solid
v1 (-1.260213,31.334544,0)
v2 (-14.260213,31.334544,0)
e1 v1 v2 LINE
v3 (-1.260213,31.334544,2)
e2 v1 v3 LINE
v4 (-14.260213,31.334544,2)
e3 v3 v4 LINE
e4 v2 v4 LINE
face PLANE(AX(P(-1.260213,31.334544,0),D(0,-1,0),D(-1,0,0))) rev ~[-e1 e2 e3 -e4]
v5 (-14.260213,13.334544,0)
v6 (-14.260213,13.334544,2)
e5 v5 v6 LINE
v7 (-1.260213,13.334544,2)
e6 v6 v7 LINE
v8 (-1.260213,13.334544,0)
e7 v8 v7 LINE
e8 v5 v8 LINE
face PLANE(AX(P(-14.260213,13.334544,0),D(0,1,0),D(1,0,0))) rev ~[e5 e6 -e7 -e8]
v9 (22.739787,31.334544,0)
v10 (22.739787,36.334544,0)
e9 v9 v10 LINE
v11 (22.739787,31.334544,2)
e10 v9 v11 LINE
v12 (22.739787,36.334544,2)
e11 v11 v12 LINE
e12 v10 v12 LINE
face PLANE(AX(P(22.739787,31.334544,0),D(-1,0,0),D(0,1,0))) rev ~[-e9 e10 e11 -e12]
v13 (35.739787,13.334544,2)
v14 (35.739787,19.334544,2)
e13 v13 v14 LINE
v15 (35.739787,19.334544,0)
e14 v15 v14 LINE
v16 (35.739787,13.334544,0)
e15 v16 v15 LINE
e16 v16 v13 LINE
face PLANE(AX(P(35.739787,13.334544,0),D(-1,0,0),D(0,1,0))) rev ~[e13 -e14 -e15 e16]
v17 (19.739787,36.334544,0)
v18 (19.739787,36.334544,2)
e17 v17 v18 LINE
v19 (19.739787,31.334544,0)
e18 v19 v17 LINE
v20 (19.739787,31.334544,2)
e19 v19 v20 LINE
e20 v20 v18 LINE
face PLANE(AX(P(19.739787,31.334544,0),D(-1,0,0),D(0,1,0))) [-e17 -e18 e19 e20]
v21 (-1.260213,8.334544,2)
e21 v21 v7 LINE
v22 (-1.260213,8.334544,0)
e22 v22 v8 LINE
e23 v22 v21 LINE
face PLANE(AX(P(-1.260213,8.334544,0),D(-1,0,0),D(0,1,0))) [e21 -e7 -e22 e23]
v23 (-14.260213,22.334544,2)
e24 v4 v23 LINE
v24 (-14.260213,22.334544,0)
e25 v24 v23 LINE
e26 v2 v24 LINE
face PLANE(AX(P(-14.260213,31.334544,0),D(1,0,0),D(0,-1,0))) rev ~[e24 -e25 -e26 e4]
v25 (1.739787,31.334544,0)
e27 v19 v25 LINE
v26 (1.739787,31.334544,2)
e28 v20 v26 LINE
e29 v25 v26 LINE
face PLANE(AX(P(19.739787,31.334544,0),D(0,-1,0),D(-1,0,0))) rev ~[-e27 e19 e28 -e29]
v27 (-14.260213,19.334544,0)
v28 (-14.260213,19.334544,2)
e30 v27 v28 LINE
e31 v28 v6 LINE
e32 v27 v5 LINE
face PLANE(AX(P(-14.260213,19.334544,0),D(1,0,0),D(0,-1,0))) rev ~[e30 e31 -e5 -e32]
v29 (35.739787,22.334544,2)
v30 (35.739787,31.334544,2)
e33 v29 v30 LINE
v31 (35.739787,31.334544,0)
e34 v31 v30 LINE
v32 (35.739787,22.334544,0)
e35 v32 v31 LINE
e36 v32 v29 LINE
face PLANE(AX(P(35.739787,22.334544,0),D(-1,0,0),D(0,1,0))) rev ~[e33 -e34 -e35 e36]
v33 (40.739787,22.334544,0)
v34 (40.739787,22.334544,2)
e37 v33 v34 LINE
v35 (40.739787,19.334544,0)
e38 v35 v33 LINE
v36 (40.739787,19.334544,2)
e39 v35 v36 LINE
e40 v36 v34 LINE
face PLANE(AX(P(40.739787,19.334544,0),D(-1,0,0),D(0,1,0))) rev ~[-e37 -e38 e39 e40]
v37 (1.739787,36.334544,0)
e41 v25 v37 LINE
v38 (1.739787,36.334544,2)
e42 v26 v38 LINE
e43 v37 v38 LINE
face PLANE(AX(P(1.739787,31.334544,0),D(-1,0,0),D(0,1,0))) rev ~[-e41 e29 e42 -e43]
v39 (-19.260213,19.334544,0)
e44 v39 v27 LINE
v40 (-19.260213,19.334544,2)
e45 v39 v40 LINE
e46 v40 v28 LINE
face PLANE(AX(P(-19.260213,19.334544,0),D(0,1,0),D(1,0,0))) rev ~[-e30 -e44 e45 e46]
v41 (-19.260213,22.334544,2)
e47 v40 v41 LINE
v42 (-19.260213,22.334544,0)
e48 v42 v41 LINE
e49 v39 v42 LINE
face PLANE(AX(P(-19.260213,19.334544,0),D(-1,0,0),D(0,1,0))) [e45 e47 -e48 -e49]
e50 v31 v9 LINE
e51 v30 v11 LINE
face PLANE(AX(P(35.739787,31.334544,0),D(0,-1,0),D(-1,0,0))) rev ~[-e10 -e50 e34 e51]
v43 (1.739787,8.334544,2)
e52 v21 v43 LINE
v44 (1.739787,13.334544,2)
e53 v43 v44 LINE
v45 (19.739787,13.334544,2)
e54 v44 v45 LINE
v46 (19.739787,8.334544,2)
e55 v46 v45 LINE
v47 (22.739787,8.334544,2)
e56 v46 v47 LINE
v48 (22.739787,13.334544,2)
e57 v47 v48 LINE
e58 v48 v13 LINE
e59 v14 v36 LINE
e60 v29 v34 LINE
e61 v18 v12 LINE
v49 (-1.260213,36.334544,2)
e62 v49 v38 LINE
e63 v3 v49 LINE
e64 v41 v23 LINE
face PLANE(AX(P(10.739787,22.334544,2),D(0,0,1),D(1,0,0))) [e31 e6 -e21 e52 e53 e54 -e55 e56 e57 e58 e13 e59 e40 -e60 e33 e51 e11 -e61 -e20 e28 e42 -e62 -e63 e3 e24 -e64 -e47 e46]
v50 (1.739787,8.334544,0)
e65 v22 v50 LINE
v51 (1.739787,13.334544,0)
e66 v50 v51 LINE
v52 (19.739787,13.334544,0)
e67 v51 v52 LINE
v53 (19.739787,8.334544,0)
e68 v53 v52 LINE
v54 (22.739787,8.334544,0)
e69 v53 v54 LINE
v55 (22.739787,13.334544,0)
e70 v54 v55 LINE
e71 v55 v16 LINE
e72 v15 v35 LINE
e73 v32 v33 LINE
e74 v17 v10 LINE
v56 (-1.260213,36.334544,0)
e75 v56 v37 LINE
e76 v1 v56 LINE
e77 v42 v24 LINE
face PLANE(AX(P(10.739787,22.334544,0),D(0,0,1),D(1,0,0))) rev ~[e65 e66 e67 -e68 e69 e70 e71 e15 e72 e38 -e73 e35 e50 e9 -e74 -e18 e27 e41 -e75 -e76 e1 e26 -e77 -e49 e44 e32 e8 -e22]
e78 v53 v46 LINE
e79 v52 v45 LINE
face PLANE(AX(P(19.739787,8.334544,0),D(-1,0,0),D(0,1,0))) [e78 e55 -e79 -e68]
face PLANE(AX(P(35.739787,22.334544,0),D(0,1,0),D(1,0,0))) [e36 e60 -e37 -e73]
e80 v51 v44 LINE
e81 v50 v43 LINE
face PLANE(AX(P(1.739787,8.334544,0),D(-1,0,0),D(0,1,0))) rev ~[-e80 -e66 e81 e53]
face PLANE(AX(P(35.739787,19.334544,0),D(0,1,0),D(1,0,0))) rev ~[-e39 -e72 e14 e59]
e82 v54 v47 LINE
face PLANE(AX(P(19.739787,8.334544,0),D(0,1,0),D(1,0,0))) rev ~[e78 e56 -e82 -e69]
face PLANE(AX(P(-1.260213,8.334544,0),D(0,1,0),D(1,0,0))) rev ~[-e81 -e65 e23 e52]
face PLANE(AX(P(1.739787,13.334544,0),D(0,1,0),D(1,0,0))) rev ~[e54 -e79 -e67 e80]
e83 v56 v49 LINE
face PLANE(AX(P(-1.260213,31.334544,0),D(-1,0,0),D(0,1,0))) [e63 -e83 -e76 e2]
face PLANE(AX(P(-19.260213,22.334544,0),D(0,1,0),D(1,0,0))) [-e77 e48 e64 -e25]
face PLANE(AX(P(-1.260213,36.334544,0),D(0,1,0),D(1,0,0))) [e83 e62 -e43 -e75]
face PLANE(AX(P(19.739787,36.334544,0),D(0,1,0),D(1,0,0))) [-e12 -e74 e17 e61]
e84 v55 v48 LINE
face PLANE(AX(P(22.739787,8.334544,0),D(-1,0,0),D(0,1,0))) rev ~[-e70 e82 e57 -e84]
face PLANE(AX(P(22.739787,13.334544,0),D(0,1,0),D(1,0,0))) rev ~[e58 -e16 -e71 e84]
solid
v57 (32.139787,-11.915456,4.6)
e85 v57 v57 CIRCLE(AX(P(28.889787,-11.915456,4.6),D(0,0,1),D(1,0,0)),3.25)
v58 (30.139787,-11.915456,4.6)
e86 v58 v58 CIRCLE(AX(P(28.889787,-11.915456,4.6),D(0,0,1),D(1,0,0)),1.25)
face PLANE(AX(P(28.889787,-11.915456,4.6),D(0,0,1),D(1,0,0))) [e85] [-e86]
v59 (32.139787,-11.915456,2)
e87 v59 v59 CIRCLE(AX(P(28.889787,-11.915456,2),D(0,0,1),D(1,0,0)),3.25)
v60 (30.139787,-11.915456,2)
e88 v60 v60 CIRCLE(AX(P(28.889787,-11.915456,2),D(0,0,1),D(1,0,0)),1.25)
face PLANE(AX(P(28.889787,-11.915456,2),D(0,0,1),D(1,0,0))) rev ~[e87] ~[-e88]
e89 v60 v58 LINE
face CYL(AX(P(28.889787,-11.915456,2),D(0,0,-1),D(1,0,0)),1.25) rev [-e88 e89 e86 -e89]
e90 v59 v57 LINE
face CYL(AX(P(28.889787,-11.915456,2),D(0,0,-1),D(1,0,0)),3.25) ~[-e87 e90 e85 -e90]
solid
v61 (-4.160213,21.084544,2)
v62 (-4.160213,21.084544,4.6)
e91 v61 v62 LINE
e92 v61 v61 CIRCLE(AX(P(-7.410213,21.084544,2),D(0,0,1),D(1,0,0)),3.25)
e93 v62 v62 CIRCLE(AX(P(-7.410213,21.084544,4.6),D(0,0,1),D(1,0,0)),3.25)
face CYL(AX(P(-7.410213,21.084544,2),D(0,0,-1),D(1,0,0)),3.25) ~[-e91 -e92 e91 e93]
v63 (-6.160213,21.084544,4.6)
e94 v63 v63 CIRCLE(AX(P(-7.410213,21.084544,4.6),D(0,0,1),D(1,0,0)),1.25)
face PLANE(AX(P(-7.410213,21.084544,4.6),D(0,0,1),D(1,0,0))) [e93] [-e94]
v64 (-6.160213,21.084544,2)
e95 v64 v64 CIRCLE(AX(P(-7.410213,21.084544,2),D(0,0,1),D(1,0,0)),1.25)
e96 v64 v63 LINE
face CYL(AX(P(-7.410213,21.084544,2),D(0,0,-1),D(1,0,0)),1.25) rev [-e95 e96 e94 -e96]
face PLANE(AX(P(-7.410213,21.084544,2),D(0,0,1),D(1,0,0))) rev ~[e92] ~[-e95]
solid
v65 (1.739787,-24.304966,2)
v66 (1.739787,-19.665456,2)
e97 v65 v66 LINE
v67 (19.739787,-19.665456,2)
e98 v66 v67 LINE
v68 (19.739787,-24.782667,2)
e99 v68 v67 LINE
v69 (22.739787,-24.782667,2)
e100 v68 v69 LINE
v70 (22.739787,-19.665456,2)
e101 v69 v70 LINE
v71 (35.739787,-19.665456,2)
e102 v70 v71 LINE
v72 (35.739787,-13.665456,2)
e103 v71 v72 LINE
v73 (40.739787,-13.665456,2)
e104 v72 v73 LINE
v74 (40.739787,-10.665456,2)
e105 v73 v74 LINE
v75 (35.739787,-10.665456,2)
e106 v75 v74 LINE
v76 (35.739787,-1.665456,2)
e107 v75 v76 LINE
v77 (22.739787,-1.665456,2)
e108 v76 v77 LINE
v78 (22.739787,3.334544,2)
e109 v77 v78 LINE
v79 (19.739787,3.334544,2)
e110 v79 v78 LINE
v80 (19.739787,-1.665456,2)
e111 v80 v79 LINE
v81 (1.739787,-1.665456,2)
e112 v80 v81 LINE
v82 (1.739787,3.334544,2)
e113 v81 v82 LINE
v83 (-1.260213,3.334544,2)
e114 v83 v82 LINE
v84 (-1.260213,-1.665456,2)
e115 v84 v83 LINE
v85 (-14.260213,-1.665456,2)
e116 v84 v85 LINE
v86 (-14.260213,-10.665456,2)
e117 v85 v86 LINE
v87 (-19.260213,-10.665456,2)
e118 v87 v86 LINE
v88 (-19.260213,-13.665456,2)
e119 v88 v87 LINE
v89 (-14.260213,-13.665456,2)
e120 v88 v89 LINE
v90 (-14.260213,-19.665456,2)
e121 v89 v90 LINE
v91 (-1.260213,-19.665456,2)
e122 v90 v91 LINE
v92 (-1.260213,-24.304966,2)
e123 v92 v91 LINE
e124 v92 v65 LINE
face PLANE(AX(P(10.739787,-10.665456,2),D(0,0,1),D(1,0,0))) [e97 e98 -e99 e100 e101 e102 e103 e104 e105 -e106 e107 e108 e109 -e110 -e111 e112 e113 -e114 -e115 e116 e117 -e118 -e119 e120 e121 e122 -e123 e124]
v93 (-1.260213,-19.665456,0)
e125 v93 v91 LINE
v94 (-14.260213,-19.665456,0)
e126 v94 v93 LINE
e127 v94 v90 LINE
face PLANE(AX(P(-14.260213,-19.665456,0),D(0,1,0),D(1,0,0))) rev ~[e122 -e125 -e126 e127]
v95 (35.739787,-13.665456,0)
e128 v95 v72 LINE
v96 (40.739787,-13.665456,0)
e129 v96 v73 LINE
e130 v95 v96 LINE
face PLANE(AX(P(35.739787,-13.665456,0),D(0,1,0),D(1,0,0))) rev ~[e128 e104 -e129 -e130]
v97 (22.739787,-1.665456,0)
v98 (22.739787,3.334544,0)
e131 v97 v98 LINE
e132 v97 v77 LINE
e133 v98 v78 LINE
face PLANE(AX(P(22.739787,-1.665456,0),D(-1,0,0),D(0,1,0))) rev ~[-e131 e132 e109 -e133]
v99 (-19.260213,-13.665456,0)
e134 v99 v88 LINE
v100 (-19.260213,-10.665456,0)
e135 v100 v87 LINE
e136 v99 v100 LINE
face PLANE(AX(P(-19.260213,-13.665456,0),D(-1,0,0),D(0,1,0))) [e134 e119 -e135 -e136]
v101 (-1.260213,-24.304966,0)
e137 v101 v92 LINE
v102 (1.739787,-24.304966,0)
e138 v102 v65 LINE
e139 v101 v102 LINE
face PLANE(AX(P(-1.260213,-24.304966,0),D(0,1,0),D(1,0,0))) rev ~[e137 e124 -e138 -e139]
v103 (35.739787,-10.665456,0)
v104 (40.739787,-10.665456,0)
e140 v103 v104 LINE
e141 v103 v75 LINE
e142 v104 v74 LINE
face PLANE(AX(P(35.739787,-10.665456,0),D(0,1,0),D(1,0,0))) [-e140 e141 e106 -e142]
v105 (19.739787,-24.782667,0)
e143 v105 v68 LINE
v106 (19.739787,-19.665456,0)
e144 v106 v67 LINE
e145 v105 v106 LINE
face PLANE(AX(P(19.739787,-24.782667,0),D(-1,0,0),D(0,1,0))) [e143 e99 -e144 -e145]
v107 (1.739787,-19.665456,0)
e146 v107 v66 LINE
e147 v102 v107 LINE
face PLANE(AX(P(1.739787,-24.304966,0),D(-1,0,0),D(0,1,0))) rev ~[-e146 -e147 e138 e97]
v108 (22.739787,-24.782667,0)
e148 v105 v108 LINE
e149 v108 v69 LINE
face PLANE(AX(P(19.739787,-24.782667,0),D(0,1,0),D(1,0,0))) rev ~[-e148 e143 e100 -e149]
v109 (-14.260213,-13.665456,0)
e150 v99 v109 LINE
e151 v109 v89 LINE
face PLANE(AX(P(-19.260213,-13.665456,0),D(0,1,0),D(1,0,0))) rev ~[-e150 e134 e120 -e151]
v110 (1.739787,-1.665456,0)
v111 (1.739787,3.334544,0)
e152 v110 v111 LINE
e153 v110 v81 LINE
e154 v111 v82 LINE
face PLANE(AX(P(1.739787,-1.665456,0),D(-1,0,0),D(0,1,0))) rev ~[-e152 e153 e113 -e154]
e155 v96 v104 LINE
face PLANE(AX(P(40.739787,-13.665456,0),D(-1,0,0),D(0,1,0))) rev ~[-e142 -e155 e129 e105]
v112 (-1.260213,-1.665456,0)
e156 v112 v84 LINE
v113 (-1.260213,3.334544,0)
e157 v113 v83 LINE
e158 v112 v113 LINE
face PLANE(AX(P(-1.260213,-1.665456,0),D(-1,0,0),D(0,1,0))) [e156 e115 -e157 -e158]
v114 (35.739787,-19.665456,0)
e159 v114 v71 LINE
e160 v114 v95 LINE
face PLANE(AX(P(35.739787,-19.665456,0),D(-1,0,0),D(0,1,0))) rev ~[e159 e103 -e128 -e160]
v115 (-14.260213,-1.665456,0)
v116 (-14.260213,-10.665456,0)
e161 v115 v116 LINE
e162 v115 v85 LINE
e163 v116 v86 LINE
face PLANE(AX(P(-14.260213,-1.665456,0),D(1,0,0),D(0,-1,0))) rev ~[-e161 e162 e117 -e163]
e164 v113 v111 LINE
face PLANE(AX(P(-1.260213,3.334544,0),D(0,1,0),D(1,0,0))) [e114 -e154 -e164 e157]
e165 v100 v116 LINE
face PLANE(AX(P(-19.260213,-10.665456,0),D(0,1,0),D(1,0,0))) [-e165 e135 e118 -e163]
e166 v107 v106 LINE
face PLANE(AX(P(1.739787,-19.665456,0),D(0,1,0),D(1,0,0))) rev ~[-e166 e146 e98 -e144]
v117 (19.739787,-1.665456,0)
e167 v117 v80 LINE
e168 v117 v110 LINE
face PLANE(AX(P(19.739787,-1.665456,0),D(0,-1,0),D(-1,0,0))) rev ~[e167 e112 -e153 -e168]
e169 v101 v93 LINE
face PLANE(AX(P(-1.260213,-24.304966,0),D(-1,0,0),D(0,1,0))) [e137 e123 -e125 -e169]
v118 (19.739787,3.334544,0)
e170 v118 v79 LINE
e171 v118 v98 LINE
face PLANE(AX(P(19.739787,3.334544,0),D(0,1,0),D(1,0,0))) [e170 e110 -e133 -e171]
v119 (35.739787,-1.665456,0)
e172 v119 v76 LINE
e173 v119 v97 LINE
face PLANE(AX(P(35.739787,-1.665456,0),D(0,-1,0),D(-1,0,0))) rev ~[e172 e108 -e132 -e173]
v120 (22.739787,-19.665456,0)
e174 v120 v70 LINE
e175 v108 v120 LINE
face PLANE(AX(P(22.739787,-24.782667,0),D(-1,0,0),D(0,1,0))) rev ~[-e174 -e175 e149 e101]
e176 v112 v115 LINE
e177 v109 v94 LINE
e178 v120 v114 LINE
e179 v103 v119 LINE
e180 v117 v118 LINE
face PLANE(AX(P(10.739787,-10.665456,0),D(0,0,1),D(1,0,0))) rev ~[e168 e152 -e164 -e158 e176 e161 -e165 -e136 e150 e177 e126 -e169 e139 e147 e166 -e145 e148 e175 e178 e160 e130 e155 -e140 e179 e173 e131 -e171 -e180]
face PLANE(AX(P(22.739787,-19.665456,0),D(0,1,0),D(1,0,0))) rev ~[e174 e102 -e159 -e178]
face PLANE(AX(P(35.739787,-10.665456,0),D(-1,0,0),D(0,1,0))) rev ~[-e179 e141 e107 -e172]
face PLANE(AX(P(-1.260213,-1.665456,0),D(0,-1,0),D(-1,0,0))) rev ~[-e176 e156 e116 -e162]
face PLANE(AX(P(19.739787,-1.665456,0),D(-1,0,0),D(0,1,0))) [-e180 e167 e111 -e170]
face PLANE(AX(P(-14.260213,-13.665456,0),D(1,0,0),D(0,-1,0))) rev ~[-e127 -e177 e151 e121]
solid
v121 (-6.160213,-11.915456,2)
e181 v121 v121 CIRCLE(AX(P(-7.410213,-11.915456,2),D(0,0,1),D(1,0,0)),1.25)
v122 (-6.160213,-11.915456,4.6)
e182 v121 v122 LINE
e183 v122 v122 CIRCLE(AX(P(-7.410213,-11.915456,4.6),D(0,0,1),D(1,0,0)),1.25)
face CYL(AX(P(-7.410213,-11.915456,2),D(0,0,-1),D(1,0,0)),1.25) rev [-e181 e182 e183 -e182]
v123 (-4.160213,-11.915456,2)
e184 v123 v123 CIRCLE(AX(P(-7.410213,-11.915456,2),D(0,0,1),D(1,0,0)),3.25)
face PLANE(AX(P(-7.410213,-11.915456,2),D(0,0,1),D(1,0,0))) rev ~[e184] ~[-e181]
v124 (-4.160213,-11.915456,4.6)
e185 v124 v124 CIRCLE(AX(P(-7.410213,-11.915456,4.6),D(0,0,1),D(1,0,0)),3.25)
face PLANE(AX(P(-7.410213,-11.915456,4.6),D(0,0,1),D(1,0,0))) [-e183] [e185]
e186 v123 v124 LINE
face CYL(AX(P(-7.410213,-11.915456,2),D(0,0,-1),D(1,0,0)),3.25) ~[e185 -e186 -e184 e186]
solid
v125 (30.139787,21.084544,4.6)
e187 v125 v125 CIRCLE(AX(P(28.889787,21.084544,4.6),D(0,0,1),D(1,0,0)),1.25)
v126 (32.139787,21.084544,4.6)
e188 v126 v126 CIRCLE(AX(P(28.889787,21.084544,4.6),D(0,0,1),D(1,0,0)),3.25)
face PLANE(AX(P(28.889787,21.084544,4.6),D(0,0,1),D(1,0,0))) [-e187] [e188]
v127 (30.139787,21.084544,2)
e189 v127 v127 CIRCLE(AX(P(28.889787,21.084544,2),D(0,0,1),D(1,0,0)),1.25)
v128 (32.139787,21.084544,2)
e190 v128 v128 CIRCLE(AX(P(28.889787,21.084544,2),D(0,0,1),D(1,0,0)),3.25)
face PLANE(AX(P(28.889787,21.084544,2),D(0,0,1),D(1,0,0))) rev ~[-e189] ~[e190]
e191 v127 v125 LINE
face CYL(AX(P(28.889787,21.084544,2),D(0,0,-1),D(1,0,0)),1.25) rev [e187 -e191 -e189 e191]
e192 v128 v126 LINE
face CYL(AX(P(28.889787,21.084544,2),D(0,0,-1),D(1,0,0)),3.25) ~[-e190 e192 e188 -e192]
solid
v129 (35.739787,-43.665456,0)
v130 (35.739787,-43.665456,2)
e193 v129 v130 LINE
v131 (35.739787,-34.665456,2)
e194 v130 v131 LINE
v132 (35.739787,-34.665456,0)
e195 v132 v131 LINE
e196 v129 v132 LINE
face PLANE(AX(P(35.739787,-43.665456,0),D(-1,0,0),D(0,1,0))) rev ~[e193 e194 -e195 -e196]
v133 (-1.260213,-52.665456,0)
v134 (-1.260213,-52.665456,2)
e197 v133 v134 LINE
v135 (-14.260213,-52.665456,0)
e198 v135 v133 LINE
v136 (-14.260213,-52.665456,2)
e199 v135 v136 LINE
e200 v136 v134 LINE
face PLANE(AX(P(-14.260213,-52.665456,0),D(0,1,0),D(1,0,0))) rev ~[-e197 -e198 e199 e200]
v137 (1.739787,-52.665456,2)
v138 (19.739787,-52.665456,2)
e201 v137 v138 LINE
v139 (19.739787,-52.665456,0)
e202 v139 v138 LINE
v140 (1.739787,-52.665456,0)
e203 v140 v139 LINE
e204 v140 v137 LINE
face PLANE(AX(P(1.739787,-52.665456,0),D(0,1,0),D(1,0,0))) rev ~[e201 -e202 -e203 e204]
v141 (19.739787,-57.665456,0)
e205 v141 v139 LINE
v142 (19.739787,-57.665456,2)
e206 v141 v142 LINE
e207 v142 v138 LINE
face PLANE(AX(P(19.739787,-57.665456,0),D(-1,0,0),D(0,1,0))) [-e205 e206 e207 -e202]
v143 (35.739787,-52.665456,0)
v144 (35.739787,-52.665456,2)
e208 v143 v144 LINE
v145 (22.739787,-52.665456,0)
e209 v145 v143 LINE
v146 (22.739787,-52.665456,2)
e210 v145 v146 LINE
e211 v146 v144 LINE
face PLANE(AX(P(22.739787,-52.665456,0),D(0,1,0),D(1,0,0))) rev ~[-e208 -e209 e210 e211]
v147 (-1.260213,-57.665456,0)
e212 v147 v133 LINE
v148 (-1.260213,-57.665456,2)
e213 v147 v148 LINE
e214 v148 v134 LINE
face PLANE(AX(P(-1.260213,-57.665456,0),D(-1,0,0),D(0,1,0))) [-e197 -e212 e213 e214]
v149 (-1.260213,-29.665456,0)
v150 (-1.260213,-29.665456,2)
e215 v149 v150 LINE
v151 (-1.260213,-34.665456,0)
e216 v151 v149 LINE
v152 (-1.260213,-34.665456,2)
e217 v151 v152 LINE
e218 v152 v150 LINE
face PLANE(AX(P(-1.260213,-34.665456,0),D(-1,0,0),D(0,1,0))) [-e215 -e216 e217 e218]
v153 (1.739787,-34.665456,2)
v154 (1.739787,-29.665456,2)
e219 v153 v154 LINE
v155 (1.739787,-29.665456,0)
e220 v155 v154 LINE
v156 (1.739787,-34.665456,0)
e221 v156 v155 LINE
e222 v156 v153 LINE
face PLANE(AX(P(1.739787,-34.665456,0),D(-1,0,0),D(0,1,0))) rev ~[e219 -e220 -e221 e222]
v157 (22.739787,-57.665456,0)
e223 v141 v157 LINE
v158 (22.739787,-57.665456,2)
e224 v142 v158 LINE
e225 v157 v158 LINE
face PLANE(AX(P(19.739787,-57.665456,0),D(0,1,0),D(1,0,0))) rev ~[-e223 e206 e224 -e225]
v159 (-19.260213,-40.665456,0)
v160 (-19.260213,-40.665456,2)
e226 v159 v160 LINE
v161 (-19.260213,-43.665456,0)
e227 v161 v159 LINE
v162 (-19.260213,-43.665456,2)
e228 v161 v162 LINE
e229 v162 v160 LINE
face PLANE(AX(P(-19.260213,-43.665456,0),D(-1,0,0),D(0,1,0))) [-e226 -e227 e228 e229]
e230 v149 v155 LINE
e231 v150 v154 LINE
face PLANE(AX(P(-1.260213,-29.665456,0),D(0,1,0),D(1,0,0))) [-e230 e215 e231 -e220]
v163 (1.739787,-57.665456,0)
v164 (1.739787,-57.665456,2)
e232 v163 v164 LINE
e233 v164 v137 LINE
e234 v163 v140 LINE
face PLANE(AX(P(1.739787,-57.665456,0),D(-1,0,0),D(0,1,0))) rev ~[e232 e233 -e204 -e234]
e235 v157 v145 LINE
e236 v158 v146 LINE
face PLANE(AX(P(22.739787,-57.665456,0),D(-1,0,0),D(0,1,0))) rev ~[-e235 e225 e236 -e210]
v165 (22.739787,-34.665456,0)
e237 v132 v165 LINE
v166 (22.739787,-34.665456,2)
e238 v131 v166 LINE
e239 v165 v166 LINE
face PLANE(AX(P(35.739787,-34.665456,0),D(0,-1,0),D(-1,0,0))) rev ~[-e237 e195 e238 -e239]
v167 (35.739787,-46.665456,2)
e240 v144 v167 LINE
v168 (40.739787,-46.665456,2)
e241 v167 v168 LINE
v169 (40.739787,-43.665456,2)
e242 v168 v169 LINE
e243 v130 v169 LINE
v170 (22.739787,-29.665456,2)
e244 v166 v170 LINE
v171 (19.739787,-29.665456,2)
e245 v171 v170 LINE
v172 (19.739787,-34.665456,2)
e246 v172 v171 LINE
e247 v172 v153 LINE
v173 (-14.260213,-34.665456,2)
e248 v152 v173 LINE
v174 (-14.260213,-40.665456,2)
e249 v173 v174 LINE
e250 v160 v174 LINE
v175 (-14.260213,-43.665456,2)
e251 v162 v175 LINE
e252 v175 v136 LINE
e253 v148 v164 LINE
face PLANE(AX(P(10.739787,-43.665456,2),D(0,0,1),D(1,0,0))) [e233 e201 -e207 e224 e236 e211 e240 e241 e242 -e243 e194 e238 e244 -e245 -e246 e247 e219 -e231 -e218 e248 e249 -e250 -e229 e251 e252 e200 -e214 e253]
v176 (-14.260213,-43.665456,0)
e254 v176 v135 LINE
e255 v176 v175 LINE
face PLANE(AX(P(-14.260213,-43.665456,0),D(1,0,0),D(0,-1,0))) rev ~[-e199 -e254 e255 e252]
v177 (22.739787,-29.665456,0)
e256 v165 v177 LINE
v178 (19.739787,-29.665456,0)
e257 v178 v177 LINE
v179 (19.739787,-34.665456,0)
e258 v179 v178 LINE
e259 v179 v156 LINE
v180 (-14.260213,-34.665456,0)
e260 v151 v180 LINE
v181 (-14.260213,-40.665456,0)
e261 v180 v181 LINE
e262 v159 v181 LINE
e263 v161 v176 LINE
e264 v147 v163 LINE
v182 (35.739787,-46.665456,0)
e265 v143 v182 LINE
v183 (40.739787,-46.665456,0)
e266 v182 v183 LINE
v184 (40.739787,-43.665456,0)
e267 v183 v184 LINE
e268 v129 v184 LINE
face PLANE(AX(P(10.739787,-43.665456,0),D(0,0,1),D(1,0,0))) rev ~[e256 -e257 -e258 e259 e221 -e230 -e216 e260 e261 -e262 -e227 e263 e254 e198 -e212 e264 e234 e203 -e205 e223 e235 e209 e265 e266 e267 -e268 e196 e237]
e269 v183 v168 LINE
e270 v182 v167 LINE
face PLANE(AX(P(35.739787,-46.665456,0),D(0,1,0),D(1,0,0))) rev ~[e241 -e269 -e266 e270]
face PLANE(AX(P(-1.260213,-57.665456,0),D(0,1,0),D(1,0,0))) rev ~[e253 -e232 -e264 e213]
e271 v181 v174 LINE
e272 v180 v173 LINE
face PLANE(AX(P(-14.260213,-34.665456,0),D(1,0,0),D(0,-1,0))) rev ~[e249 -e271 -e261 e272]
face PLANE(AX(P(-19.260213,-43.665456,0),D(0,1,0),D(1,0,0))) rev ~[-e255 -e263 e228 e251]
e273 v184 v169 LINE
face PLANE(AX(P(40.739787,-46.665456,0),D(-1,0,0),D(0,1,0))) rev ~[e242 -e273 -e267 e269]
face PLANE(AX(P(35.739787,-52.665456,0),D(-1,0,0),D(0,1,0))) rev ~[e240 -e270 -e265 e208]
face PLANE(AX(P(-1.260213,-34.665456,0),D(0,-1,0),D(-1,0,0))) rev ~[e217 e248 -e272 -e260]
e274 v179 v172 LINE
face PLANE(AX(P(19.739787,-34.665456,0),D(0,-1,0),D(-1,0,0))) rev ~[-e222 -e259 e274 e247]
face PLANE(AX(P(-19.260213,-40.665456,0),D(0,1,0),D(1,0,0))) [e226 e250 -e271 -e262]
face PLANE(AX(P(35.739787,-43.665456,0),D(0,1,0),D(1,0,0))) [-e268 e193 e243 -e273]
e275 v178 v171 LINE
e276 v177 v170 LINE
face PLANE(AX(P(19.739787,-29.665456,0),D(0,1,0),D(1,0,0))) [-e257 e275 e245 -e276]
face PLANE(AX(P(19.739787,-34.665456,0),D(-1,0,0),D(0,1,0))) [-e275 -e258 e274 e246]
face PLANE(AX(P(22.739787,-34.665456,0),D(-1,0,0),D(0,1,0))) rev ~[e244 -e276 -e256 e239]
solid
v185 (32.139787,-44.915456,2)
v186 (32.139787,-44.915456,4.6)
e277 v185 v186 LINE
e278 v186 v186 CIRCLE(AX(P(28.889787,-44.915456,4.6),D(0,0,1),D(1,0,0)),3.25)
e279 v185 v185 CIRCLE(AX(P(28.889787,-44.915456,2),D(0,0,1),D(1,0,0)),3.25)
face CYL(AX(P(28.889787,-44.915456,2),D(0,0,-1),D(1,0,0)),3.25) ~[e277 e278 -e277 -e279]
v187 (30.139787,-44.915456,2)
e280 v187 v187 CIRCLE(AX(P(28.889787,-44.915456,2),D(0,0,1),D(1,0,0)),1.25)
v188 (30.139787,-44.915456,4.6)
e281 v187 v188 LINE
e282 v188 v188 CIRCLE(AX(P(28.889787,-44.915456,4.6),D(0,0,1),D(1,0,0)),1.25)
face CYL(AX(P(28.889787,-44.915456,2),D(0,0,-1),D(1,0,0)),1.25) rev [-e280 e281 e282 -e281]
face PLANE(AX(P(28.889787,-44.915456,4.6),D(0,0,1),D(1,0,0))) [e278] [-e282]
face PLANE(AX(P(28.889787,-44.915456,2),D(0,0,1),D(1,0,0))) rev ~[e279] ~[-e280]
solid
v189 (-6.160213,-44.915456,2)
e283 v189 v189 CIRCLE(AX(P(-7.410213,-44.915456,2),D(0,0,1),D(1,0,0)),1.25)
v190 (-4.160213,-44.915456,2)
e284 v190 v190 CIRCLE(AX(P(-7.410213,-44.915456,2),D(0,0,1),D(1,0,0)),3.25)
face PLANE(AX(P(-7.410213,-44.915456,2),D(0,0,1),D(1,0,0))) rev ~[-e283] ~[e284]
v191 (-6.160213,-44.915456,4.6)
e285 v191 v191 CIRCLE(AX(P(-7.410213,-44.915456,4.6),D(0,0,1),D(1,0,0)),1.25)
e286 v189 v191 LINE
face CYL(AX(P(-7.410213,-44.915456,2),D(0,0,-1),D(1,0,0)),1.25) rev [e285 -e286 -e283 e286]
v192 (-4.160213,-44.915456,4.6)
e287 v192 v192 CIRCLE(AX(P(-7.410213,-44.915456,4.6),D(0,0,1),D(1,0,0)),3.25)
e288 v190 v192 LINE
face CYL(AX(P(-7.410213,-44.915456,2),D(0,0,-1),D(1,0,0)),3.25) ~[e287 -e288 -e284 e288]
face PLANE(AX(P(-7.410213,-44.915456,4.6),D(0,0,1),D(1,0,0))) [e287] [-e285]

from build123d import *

# Parameters (mm, degrees)
F0_W     = 3
F0_H     = 5
F0_W_2   = 5
F0_H_2   = 3
F0_H_3   = 4.639511
F0_H_4   = 5.117211
F1_DEPTH = 2
F2_R     = 3.25
F2_R_2   = 1.25
F3_DEPTH = 2.6


with BuildPart() as f1:
    # F0 (on Top) → F1 (new body)
    with BuildSketch(Plane.XY):
        Polygon((-1.260213, 31.334544), (-14.260213, 31.334544), (-14.260213, 22.334544), (-14.260213, 19.334544), (-14.260213, 13.334544), (-1.260213, 13.334544), (1.739787, 13.334544), (19.739787, 13.334544), (22.739787, 13.334544), (35.739787, 13.334544), (35.739787, 19.334544), (35.739787, 22.334544), (35.739787, 31.334544), (22.739787, 31.334544), (19.739787, 31.334544), (1.739787, 31.334544), align=None)
        with Locations((0.239787, 33.834544)):
            Rectangle(F0_W, F0_H)
        with Locations((-16.760213, 20.834544)):
            Rectangle(F0_W_2, F0_H_2)
        with Locations((21.239787, 33.834544)):
            Rectangle(F0_W, F0_H)
        with Locations((0.239787, 10.834544)):
            Rectangle(F0_W, F0_H)
        with Locations((38.239787, 20.834544)):
            Rectangle(F0_W_2, F0_H_2)
        with Locations((21.239787, 10.834544)):
            Rectangle(F0_W, F0_H)
        Polygon((-1.260213, -1.665456), (-14.260213, -1.665456), (-14.260213, -10.665456), (-14.260213, -13.665456), (-14.260213, -19.665456), (-1.260213, -19.665456), (1.739787, -19.665456), (19.739787, -19.665456), (22.739787, -19.665456), (35.739787, -19.665456), (35.739787, -13.665456), (35.739787, -10.665456), (35.739787, -1.665456), (22.739787, -1.665456), (19.739787, -1.665456), (1.739787, -1.665456), align=None)
        with Locations((0.239787, 0.834544)):
            Rectangle(F0_W, F0_H)
        with Locations((-16.760213, -12.165456)):
            Rectangle(F0_W_2, F0_H_2)
        with Locations((21.239787, 0.834544)):
            Rectangle(F0_W, F0_H)
        with Locations((0.239787, -21.985211)):
            Rectangle(F0_W, F0_H_3)
        with Locations((38.239787, -12.165456)):
            Rectangle(F0_W_2, F0_H_2)
        with Locations((21.239787, -22.224061)):
            Rectangle(F0_W, F0_H_4)
        Polygon((-1.260213, -34.665456), (-14.260213, -34.665456), (-14.260213, -40.665456), (-14.260213, -43.665456), (-14.260213, -52.665456), (-1.260213, -52.665456), (1.739787, -52.665456), (19.739787, -52.665456), (22.739787, -52.665456), (35.739787, -52.665456), (35.739787, -46.665456), (35.739787, -43.665456), (35.739787, -34.665456), (22.739787, -34.665456), (19.739787, -34.665456), (1.739787, -34.665456), align=None)
        with Locations((0.239787, -32.165456)):
            Rectangle(F0_W, F0_H)
        with Locations((-16.760213, -42.165456)):
            Rectangle(F0_W_2, F0_H_2)
        with Locations((21.239787, -32.165456)):
            Rectangle(F0_W, F0_H)
        with Locations((0.239787, -55.165456)):
            Rectangle(F0_W, F0_H)
        with Locations((38.239787, -45.165456)):
            Rectangle(F0_W_2, F0_H_2)
        with Locations((21.239787, -55.165456)):
            Rectangle(F0_W, F0_H)
    extrude(amount=F1_DEPTH)


with BuildPart() as f3:
    # F2 (on face) → F3 (new body)
    with BuildSketch(Plane.XY.offset(2)):
        with Locations((-7.410213, 21.084544)):
            Circle(F2_R)
        with Locations((-7.410213, 21.084544)):
            Circle(F2_R_2, mode=Mode.SUBTRACT)
        with Locations((28.889787, 21.084544)):
            Circle(F2_R)
        with Locations((28.889787, 21.084544)):
            Circle(F2_R_2, mode=Mode.SUBTRACT)
        with Locations((-7.410213, -11.915456)):
            Circle(F2_R)
        with Locations((-7.410213, -11.915456)):
            Circle(F2_R_2, mode=Mode.SUBTRACT)
        with Locations((-7.410213, -44.915456)):
            Circle(F2_R)
        with Locations((-7.410213, -44.915456)):
            Circle(F2_R_2, mode=Mode.SUBTRACT)
        with Locations((28.889787, -11.915456)):
            Circle(F2_R)
        with Locations((28.889787, -11.915456)):
            Circle(F2_R_2, mode=Mode.SUBTRACT)
        with Locations((28.889787, -44.915456)):
            Circle(F2_R)
        with Locations((28.889787, -44.915456)):
            Circle(F2_R_2, mode=Mode.SUBTRACT)
    extrude(amount=F3_DEPTH)


solid = Compound([f1.part, f3.part])
